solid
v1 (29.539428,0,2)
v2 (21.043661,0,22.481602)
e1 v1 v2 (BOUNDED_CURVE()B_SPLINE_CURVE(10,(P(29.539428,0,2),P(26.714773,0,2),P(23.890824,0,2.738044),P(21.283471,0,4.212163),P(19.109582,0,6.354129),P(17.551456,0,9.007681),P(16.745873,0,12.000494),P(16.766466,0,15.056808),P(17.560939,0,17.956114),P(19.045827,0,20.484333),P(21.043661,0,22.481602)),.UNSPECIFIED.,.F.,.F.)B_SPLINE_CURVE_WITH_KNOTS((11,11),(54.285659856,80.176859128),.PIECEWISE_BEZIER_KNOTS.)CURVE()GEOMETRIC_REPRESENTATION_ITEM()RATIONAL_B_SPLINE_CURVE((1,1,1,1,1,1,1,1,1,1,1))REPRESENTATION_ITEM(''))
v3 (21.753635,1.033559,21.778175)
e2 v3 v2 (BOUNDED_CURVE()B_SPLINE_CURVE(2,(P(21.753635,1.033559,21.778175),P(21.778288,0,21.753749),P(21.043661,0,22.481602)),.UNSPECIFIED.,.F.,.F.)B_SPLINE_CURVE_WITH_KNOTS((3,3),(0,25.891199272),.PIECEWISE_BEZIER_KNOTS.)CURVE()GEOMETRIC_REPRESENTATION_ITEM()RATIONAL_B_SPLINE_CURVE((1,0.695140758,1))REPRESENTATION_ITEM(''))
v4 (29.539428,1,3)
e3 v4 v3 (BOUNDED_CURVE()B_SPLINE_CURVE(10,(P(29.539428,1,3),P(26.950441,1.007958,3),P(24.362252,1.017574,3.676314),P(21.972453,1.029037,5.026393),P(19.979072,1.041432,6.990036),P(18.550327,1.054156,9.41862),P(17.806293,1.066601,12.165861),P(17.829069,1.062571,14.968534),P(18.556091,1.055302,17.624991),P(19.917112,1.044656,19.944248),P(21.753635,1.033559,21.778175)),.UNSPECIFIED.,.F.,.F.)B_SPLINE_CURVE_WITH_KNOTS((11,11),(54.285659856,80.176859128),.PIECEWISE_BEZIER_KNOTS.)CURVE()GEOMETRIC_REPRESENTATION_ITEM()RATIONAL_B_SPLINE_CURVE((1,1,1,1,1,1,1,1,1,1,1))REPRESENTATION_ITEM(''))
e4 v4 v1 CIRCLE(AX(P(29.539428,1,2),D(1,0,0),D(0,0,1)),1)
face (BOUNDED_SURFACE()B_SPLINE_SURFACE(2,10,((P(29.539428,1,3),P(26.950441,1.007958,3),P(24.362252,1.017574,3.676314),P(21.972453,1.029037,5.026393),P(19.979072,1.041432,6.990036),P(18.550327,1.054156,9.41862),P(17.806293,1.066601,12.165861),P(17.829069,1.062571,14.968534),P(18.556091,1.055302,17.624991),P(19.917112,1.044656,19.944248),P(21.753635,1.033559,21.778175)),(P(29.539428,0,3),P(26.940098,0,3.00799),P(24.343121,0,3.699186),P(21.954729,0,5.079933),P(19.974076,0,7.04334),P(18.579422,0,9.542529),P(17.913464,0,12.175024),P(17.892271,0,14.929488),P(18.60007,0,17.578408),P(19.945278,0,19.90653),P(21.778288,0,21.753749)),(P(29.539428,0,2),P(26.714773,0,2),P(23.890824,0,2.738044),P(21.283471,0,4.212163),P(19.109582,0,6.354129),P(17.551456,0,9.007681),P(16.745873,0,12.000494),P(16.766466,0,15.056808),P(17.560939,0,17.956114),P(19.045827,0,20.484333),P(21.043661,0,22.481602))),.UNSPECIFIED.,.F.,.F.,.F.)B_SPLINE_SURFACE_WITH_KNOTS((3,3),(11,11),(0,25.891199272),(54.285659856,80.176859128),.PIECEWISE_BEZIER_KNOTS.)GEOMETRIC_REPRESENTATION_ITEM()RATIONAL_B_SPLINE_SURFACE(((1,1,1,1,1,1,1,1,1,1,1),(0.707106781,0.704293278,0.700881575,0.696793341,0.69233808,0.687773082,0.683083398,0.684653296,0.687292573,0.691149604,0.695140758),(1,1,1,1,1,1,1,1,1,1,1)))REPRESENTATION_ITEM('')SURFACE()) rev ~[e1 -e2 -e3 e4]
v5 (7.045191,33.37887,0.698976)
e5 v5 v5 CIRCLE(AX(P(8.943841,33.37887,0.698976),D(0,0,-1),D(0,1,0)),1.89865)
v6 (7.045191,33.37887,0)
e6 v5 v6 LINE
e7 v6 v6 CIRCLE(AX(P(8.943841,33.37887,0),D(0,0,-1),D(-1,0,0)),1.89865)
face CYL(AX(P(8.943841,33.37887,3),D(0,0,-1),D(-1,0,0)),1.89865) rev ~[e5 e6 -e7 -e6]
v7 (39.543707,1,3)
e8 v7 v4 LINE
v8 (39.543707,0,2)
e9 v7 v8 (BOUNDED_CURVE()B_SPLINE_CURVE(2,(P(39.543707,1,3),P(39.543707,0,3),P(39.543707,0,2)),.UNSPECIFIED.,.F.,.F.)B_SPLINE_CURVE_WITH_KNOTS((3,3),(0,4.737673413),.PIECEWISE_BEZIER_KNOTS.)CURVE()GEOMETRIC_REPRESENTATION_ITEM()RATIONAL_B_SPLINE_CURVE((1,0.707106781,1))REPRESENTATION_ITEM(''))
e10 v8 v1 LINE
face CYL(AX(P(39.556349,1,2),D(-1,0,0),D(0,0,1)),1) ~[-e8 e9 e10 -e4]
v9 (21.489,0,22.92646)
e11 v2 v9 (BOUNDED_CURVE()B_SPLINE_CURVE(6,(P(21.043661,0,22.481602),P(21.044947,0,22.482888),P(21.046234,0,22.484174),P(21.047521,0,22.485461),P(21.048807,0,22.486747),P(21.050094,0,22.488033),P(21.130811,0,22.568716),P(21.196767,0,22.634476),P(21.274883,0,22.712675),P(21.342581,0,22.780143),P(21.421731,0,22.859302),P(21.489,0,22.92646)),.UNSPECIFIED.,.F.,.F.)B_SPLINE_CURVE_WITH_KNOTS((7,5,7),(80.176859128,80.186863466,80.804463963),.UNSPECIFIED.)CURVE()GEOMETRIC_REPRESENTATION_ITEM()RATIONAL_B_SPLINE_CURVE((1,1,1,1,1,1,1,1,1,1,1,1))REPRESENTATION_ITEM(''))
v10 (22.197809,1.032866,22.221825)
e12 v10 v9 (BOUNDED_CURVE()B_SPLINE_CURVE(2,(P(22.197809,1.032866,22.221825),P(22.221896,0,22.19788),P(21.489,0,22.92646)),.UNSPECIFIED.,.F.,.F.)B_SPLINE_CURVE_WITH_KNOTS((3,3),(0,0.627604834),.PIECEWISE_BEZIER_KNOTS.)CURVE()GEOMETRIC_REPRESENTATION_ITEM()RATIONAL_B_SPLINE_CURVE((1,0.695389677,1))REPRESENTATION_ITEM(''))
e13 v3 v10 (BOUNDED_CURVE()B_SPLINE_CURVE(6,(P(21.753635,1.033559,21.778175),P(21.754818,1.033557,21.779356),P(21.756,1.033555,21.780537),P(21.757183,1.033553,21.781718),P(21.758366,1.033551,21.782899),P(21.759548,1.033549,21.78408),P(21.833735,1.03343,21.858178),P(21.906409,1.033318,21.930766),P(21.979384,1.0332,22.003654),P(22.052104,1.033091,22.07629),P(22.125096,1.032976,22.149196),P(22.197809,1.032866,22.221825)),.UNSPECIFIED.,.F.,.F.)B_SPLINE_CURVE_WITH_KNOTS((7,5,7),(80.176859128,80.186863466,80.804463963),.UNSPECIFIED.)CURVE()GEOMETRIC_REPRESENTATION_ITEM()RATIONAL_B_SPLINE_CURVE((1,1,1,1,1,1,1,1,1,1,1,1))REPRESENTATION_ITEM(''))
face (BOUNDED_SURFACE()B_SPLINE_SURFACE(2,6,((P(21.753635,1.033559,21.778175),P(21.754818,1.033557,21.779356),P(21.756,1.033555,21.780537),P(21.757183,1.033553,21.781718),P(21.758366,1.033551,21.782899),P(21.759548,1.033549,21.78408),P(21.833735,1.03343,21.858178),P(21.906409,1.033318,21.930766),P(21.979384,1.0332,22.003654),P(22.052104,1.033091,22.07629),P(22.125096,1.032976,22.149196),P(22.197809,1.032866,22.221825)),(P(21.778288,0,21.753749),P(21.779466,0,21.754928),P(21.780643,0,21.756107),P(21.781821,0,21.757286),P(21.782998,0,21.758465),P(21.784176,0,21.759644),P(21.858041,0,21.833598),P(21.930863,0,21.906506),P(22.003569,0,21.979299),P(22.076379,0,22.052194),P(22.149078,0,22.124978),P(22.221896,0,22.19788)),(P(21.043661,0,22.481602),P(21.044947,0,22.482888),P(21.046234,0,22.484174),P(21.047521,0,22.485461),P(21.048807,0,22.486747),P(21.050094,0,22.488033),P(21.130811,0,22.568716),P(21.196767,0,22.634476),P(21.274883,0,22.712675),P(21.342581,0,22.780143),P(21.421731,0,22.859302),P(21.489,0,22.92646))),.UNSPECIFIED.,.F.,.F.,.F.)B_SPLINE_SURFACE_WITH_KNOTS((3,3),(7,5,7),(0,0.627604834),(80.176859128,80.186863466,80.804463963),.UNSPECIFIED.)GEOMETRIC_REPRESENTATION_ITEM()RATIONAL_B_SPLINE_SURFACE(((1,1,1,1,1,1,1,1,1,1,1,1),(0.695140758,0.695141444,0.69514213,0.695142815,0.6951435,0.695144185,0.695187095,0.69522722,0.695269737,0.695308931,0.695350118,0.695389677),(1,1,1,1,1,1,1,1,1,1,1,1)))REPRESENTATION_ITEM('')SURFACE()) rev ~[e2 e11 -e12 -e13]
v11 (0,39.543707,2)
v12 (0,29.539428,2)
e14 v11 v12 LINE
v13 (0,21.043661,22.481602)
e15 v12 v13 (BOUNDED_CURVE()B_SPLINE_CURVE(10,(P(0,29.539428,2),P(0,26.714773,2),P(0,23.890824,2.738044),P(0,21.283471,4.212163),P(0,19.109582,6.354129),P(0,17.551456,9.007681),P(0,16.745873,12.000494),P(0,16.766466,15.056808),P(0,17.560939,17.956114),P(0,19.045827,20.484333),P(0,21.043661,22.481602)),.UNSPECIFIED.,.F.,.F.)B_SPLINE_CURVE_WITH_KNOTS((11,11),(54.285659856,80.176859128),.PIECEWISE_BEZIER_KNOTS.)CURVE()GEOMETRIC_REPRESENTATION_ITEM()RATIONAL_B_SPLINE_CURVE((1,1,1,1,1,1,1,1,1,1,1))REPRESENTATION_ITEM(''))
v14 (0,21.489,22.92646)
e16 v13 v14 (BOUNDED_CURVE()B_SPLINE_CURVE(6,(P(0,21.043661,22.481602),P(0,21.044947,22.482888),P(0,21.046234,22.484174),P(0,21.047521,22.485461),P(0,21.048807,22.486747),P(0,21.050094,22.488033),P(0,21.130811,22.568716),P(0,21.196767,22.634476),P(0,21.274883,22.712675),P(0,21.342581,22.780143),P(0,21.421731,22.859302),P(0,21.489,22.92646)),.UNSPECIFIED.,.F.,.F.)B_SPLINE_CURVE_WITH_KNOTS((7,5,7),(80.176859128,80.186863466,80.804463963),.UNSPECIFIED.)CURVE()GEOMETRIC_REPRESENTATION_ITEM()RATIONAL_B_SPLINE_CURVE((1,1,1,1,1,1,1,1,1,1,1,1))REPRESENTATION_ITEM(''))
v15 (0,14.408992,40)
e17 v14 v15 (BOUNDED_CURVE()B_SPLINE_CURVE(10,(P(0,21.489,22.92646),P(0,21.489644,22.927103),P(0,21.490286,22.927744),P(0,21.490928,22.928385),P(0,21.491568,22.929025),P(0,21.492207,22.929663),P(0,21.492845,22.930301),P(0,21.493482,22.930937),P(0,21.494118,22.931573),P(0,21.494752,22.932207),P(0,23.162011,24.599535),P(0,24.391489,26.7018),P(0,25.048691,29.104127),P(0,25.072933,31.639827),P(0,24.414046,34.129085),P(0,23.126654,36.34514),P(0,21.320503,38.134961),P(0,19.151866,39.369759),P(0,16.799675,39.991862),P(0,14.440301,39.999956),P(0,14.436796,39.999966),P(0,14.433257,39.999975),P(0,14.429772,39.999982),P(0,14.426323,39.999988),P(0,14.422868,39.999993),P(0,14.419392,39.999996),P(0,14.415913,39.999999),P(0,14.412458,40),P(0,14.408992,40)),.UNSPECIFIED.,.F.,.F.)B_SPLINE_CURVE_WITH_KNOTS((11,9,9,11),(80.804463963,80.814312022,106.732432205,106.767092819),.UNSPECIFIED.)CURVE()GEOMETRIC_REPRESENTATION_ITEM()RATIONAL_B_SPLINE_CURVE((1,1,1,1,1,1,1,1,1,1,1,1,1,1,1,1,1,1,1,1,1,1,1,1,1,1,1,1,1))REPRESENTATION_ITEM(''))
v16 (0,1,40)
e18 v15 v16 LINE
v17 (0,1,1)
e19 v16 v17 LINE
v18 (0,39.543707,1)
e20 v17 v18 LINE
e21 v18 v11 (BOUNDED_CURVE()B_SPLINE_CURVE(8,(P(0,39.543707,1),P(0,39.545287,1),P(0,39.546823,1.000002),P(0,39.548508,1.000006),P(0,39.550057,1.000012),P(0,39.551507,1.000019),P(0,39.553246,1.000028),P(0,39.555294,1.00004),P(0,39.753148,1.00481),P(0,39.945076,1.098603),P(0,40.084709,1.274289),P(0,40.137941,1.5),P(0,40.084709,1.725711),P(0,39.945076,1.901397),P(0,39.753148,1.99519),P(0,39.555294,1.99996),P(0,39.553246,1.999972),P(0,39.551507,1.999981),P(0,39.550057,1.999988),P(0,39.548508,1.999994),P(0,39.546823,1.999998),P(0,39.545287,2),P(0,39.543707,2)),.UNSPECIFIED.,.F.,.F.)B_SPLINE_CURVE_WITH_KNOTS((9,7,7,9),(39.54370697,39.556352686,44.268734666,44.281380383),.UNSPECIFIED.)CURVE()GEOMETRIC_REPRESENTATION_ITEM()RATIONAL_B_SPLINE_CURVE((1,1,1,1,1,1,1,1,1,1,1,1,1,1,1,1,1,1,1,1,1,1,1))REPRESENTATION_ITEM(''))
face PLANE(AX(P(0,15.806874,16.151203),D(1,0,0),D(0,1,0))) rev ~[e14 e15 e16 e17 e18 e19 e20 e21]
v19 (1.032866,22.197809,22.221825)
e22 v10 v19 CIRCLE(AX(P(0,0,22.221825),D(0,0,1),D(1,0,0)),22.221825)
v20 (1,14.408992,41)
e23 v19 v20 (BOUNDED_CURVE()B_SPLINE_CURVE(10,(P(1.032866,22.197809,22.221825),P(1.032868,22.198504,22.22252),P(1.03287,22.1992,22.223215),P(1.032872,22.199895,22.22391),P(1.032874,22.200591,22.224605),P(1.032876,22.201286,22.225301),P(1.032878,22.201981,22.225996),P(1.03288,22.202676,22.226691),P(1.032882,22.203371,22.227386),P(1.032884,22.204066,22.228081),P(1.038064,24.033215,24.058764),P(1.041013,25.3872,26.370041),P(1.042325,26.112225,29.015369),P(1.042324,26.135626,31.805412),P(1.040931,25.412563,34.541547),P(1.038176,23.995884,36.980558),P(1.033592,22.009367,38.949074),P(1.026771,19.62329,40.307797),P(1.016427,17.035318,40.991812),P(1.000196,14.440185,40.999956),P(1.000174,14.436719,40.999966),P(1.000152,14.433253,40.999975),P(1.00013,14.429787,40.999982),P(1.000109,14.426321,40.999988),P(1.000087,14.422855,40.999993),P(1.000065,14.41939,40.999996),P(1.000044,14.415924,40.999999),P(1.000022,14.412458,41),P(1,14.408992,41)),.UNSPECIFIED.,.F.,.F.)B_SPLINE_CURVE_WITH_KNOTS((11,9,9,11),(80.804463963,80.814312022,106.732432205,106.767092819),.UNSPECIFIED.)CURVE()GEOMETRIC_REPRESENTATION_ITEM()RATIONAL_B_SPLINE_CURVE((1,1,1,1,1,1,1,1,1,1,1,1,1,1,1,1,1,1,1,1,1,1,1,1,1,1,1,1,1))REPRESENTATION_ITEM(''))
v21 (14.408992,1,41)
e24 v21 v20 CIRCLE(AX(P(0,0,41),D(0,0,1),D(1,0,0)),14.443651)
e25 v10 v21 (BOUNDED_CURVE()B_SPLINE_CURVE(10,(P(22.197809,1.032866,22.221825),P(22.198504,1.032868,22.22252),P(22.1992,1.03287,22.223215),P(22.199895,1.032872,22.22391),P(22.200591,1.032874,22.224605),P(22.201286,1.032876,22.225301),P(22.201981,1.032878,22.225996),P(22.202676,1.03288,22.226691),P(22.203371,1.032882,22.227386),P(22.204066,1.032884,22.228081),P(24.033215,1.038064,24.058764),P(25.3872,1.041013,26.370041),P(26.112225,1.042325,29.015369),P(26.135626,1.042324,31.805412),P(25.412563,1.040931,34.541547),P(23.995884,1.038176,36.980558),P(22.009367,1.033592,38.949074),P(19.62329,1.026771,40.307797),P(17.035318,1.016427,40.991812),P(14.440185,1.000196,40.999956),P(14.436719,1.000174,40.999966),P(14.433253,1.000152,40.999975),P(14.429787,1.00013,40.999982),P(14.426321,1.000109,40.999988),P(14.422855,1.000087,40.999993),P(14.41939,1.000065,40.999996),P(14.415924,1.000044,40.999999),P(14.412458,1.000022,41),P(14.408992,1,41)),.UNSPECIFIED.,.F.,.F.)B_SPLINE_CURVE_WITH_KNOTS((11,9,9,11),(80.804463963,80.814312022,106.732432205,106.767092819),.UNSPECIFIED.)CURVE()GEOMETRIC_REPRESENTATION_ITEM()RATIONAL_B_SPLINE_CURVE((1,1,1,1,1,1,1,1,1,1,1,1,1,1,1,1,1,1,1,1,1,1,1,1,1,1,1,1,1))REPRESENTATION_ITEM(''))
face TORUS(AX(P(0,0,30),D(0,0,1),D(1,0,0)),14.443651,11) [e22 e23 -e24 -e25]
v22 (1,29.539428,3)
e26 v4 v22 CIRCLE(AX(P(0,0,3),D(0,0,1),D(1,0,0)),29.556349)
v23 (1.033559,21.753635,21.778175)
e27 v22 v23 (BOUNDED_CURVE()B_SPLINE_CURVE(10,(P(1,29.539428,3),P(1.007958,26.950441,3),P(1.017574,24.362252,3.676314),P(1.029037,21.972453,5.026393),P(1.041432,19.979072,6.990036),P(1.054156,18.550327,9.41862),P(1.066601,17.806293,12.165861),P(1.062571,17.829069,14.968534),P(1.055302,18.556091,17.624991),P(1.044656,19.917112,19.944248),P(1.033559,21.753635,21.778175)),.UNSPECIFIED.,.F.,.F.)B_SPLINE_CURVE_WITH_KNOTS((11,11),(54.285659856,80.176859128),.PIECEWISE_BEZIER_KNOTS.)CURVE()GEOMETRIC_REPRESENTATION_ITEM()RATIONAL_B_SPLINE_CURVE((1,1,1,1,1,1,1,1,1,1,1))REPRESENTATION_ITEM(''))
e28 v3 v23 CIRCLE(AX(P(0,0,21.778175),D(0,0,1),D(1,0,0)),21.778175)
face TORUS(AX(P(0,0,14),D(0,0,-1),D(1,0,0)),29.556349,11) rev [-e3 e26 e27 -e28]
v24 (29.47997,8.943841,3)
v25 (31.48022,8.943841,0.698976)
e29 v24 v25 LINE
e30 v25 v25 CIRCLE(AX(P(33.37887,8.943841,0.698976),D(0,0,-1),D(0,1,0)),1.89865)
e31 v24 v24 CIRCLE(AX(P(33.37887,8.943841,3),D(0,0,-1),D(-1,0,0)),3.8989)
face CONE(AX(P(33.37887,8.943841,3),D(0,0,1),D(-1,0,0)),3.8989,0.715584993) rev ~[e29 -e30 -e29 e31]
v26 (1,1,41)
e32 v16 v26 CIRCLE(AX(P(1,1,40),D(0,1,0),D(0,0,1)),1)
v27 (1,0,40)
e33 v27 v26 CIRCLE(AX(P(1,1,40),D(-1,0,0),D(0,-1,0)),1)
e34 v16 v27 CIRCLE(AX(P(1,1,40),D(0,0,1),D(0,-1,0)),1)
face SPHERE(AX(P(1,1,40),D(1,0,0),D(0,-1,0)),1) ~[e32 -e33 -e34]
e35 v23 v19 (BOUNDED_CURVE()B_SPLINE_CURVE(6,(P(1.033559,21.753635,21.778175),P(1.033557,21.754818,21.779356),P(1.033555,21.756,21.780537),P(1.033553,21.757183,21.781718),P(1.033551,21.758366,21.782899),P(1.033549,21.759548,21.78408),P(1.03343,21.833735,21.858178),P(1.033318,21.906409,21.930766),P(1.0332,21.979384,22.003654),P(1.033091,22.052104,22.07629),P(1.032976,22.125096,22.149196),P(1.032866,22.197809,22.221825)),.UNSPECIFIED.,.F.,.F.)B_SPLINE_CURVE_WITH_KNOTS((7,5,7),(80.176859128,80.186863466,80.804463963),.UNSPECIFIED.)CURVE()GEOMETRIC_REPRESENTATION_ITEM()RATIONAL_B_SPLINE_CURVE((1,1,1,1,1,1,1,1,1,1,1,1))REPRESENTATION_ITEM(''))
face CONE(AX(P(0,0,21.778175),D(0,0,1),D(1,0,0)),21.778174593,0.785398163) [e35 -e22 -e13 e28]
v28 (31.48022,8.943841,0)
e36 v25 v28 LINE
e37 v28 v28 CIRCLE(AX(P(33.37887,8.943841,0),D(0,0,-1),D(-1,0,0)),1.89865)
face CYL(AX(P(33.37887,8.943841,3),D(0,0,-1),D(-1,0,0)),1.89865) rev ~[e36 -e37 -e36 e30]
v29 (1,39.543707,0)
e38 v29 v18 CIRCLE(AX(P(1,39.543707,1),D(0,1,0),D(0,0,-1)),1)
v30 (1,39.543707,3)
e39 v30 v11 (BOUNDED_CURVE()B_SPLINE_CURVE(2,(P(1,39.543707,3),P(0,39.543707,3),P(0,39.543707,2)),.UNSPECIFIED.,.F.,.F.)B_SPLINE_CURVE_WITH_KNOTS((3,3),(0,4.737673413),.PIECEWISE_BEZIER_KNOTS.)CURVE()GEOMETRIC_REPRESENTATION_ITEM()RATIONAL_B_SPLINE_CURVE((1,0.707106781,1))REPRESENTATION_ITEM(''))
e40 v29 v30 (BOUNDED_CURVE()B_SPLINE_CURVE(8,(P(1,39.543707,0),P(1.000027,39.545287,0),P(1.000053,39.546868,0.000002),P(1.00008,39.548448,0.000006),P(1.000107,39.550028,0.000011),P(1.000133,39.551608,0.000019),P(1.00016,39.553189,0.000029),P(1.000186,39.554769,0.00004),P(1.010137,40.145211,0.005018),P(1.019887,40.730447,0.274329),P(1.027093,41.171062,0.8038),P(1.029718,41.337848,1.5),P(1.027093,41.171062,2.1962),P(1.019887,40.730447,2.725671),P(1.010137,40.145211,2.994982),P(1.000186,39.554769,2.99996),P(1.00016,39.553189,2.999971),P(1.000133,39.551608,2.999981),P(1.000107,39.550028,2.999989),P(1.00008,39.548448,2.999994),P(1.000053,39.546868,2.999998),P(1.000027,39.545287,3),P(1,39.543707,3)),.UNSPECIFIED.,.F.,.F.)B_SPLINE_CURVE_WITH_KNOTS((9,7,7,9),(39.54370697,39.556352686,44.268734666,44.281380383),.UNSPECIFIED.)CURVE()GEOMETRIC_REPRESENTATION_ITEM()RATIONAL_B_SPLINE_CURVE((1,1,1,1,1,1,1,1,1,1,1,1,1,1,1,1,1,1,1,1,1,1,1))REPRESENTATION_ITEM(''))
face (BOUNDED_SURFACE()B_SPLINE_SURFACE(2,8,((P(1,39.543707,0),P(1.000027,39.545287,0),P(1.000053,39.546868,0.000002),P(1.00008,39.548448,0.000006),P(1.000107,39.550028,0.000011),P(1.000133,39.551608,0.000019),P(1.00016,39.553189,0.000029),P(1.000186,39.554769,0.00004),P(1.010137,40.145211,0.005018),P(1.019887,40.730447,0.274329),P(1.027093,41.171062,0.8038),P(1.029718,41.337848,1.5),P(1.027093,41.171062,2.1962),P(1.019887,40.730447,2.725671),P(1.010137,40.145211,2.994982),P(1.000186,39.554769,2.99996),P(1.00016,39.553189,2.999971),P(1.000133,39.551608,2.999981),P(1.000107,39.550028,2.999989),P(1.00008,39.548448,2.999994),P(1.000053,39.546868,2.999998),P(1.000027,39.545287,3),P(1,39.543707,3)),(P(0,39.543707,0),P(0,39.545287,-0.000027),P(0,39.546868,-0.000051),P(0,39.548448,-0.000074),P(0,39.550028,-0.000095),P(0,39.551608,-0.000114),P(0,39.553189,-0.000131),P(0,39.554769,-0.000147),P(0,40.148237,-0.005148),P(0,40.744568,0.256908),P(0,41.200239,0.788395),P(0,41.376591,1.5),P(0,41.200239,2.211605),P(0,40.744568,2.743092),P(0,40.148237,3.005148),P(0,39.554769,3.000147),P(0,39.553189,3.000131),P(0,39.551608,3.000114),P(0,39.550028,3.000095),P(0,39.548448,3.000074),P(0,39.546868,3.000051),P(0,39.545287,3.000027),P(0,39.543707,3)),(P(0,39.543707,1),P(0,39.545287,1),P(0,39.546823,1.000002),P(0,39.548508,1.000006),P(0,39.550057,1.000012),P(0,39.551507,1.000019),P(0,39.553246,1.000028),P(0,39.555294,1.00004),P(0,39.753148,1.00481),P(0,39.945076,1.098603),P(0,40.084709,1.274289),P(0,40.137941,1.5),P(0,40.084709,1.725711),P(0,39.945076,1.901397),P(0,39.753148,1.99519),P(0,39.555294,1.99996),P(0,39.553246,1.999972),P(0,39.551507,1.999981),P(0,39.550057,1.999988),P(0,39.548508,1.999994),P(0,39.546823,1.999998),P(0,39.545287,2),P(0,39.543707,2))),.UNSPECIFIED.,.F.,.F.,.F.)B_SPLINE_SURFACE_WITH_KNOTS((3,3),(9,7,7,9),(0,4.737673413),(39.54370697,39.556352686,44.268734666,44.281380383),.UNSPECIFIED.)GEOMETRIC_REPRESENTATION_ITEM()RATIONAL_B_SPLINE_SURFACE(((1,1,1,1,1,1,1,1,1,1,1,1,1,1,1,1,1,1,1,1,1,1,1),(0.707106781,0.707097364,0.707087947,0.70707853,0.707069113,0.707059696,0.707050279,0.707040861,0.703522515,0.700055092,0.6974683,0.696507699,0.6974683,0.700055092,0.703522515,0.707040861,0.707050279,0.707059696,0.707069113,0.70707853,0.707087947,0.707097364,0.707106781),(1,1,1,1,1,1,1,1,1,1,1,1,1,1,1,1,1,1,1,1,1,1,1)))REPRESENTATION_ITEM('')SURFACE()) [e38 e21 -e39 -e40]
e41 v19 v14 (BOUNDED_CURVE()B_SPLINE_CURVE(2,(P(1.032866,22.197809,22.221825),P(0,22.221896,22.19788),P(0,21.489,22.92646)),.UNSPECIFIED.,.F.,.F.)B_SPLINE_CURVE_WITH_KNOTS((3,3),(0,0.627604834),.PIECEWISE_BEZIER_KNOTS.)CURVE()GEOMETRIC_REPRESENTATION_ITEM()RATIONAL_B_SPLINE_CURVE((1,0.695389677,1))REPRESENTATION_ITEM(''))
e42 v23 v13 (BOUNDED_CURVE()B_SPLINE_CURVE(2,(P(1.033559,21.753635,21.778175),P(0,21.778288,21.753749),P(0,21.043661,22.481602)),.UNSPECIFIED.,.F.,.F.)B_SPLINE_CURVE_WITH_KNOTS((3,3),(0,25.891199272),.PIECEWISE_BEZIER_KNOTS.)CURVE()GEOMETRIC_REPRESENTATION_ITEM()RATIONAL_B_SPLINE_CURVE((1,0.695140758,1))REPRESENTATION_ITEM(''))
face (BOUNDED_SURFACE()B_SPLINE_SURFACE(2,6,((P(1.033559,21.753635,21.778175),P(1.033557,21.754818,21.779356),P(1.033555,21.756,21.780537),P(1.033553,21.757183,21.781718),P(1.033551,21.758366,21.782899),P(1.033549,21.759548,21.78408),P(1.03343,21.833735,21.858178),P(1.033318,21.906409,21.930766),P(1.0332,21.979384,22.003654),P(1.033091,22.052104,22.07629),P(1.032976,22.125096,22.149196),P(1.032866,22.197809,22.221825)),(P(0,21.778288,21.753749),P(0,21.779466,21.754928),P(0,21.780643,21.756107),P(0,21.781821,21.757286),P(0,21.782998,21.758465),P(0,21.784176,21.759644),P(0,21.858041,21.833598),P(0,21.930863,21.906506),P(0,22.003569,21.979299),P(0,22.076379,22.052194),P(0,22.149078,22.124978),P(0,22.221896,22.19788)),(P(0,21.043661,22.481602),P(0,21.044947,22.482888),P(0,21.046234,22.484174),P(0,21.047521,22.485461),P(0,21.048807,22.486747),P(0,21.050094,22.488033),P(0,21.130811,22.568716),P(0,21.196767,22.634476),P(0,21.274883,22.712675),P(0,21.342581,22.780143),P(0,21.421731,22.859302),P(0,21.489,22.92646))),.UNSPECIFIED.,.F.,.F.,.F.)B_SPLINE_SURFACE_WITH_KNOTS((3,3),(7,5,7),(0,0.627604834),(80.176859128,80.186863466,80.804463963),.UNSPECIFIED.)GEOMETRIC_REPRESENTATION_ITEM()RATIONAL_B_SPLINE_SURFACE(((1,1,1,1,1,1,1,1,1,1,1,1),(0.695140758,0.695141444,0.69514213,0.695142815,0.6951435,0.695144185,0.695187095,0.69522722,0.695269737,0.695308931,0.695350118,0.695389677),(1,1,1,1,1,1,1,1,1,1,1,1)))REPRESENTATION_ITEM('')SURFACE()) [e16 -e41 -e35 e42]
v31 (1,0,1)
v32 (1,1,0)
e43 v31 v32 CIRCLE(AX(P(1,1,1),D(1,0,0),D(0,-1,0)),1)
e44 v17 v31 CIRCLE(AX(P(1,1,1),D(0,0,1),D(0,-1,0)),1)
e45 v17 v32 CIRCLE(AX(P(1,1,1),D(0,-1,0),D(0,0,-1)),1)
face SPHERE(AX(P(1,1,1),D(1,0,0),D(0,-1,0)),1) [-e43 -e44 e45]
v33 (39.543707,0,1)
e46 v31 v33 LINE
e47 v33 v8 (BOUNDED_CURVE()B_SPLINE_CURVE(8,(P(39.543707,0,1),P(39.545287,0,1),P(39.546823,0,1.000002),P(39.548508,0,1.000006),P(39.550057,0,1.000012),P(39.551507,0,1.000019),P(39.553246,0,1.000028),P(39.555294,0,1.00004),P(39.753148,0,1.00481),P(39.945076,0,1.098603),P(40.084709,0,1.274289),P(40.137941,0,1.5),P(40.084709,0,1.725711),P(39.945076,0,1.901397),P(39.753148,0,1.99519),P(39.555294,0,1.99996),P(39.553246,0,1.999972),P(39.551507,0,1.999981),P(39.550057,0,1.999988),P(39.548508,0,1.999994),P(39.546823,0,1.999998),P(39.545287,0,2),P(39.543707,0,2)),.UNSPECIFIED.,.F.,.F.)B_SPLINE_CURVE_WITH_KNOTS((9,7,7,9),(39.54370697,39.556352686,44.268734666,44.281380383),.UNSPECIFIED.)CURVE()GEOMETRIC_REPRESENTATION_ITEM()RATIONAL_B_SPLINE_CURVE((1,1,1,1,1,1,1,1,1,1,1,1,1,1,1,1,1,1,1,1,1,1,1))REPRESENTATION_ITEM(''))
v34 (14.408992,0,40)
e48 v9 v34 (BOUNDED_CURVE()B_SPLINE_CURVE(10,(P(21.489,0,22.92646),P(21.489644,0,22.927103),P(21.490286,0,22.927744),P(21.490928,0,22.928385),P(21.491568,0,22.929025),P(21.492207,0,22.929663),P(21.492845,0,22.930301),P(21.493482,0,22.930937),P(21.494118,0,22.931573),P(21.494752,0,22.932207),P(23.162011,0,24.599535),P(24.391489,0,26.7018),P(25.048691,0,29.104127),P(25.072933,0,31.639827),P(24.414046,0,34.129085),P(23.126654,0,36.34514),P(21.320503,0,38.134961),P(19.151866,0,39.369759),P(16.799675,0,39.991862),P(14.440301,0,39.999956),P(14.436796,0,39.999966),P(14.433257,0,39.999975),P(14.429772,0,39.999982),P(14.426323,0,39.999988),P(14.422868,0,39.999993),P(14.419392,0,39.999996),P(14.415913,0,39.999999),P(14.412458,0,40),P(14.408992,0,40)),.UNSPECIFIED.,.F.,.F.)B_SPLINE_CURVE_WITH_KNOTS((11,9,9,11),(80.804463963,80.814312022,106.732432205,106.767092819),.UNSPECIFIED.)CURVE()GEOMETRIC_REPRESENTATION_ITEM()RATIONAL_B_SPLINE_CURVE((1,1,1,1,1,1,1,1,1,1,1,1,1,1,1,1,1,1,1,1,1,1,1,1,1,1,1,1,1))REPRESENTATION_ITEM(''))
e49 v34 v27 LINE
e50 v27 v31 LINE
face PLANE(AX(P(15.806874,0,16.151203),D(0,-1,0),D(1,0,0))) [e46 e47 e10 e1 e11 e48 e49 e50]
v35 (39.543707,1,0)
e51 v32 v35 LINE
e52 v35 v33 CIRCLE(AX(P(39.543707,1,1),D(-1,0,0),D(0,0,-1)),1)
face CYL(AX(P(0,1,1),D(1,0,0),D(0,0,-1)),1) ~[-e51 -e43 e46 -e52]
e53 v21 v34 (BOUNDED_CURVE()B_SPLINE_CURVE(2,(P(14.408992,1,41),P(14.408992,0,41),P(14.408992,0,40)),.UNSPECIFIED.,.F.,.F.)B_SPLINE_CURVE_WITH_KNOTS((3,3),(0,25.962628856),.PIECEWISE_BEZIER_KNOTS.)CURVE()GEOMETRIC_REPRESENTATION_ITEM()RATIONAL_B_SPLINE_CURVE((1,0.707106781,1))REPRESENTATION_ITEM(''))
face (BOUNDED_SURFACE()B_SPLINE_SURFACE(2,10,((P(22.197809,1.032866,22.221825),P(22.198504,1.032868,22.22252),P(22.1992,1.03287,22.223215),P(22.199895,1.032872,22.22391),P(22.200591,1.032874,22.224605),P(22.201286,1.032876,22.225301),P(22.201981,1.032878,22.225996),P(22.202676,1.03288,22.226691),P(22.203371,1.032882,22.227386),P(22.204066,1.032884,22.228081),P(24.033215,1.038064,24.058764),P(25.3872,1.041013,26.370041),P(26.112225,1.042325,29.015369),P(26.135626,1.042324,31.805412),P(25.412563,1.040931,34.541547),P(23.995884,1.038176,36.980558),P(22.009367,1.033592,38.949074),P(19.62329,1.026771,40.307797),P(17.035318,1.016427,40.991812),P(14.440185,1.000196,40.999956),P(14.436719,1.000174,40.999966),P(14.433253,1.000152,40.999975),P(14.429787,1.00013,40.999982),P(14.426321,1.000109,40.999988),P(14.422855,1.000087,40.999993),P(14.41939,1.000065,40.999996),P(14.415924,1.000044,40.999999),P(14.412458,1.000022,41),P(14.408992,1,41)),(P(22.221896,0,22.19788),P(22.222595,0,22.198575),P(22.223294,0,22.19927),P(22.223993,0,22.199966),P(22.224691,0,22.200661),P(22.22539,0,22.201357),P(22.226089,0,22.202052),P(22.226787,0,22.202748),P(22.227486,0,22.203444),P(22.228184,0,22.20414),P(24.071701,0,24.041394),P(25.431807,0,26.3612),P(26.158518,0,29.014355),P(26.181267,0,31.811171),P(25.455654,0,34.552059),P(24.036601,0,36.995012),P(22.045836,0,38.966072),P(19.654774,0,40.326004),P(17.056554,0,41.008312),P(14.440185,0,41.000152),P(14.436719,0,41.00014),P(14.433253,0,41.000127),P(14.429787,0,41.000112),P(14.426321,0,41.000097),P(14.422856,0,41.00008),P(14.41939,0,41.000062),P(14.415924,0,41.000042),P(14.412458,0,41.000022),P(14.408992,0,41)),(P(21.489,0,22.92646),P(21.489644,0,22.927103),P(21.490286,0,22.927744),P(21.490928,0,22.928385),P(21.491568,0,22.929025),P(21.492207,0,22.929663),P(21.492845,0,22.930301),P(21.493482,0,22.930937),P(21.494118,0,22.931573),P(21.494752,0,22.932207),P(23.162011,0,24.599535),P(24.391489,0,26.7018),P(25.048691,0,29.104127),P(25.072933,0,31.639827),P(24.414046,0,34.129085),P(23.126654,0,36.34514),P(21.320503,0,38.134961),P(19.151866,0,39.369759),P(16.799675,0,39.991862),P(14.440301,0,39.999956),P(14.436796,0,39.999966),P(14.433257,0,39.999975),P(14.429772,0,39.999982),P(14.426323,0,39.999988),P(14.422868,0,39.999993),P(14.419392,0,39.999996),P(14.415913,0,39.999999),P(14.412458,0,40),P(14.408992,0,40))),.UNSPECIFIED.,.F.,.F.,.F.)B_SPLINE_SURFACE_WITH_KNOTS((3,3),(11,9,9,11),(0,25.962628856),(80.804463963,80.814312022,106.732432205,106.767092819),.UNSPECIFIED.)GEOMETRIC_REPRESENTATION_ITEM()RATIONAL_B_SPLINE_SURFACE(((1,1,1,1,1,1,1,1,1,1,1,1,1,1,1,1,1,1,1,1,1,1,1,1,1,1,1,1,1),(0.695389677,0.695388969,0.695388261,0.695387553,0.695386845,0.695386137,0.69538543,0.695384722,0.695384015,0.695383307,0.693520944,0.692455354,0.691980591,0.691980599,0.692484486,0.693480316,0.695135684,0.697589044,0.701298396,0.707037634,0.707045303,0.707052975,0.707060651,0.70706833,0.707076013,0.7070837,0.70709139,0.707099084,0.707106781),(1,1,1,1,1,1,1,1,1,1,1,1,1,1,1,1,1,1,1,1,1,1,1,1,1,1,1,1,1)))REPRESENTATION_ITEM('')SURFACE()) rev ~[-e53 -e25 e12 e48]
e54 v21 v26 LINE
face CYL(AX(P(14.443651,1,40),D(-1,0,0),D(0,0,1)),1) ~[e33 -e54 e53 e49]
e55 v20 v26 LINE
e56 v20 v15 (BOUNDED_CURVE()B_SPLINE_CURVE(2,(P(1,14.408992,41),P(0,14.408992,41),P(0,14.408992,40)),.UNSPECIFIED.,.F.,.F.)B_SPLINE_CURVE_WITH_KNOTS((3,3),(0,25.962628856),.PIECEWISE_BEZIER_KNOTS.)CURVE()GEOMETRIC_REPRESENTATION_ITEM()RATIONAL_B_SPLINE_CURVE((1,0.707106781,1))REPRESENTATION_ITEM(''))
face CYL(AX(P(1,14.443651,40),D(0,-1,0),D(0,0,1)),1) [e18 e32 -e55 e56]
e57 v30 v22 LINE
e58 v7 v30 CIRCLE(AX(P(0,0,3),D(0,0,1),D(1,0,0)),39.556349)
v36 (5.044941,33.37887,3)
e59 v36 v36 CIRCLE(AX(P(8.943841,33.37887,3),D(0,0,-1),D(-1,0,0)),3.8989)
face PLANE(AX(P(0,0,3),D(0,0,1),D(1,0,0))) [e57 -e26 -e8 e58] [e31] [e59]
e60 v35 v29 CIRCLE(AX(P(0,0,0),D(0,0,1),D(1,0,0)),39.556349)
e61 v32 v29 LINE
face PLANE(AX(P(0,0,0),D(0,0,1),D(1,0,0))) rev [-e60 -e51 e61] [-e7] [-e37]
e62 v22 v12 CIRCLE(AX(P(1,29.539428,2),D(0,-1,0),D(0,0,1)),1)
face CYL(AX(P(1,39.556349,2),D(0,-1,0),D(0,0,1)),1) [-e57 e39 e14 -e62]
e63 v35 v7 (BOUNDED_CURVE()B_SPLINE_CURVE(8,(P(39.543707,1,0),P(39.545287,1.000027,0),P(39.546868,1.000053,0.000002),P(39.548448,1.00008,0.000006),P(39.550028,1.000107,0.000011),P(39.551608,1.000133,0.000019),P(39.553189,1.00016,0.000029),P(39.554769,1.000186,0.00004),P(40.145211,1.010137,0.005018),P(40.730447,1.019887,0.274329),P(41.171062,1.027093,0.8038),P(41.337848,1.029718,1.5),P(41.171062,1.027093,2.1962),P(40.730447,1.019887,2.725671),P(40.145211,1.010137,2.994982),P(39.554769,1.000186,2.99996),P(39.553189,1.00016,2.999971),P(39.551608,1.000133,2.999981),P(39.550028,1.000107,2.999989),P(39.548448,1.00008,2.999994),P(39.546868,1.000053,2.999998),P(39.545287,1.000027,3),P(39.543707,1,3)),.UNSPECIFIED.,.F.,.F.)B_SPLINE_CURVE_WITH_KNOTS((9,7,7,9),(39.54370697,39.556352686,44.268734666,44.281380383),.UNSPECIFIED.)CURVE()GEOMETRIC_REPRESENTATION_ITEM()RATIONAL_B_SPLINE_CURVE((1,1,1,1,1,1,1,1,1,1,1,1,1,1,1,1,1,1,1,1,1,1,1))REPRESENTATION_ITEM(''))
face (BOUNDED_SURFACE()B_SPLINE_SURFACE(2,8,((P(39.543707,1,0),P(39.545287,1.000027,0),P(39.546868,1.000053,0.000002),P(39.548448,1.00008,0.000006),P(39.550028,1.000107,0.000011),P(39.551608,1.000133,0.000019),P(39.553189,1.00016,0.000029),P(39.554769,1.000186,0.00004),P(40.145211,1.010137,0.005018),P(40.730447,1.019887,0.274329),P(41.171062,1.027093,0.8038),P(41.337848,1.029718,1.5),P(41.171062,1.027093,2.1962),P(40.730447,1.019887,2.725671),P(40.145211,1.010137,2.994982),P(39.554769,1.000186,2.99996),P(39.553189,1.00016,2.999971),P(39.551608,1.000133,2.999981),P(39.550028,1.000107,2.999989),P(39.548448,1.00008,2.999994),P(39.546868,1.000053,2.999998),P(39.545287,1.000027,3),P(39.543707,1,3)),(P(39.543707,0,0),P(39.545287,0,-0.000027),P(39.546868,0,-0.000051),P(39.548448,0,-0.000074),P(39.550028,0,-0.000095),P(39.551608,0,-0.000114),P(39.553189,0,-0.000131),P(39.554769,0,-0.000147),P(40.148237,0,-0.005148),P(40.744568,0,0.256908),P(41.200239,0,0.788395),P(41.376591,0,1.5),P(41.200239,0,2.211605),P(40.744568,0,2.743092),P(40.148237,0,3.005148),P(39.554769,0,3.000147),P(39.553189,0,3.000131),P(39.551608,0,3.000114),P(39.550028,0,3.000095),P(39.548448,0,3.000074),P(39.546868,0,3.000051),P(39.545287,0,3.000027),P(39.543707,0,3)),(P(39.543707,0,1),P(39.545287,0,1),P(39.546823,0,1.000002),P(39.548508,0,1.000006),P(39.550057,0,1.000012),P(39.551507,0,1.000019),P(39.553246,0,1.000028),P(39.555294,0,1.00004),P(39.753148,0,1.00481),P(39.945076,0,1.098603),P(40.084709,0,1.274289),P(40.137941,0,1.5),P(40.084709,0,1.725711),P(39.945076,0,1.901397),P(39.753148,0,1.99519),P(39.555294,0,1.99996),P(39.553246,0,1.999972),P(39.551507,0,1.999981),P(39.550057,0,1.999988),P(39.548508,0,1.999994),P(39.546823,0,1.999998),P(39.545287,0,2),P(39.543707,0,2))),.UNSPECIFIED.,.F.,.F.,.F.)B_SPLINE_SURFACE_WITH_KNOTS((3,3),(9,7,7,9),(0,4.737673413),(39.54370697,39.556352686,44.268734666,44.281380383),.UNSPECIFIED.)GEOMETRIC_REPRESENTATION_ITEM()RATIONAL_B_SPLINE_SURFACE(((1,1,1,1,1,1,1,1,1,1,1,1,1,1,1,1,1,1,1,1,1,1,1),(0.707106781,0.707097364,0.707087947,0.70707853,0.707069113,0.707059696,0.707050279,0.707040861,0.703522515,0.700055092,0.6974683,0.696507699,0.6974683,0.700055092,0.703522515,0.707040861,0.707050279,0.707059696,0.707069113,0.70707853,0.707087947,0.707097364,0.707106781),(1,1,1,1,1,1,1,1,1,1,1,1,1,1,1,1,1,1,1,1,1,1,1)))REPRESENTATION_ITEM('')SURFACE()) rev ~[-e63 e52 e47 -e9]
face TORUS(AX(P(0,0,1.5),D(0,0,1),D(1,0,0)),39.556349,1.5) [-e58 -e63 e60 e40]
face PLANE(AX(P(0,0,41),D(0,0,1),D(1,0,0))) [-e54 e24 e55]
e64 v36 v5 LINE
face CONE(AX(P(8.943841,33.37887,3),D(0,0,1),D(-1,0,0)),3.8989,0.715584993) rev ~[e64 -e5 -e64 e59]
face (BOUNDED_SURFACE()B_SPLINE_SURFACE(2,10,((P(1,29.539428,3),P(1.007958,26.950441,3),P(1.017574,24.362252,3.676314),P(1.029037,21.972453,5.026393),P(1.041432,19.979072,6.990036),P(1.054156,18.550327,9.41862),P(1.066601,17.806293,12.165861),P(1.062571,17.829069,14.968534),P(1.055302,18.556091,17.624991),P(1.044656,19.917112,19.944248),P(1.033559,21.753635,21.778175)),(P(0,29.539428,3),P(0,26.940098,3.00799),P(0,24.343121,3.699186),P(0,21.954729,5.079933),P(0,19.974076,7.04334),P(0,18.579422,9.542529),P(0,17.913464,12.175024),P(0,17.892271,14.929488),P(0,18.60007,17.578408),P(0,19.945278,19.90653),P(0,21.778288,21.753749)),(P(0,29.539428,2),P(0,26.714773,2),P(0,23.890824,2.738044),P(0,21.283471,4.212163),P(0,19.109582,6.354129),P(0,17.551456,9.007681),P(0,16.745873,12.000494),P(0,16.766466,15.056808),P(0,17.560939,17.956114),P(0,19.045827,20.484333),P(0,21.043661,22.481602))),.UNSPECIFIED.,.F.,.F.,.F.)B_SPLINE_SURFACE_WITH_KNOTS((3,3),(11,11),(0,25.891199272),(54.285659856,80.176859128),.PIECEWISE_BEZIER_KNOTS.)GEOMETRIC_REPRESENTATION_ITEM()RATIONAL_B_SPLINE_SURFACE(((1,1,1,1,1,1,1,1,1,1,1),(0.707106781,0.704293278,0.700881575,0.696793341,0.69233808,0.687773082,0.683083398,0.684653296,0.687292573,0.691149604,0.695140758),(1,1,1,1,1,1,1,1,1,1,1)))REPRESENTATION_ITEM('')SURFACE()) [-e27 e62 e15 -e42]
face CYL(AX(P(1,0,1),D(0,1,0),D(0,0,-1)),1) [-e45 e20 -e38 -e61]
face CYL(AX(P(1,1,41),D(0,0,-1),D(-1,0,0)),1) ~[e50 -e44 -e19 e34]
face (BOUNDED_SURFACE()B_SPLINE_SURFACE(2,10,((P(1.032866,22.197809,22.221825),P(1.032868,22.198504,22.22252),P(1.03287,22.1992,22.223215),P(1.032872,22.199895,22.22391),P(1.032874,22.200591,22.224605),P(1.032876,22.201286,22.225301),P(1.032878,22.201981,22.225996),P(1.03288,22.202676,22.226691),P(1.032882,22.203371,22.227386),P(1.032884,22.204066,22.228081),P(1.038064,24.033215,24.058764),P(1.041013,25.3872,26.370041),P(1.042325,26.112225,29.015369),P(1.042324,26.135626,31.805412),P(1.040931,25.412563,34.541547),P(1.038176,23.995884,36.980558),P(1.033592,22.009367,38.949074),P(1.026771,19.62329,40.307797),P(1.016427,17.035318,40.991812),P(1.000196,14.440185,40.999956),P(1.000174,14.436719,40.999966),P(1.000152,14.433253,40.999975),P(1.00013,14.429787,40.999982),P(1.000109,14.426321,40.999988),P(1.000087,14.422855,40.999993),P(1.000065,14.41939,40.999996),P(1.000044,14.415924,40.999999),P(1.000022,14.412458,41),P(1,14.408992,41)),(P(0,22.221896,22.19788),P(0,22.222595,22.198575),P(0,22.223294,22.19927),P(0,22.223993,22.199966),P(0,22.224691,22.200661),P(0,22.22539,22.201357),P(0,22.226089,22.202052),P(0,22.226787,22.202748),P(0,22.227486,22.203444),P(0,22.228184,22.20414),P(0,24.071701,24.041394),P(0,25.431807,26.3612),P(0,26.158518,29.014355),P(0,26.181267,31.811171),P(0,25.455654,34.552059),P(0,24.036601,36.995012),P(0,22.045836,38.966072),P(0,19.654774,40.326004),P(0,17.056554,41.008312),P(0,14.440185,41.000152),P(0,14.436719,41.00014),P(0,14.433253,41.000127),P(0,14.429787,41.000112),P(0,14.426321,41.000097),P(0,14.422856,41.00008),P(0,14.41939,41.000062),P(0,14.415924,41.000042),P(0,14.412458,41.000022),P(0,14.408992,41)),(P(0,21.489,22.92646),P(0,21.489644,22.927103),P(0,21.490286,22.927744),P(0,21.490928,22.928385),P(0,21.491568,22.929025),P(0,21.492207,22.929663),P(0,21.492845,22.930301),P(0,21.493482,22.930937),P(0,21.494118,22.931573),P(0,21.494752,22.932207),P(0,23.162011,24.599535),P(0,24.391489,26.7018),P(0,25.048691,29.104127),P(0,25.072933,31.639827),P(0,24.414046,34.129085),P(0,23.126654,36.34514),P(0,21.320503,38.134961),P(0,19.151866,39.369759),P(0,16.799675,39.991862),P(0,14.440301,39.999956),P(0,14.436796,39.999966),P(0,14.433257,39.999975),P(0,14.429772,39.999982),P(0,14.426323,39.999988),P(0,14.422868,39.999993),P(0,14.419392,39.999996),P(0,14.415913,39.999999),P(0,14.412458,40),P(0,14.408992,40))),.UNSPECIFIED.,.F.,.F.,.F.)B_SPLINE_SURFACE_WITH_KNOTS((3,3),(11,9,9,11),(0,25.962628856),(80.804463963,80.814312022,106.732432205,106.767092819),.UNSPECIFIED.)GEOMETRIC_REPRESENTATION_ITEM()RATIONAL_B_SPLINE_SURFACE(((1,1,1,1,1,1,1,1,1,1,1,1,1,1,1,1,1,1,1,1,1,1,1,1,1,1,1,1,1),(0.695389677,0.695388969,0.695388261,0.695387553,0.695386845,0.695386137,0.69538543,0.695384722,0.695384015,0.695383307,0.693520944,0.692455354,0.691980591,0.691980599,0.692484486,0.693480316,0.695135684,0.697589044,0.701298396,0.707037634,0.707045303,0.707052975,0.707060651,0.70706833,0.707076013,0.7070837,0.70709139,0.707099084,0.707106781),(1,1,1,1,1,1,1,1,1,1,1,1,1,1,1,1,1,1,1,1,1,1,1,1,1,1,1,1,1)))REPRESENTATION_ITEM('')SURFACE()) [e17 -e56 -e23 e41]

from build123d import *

# Parameters (mm, degrees)
F1_ANGLE       = 90
F3_D           = 3.7973
F3_CSINK_D     = 7.7978
F3_CSINK_ANGLE = 82
F4_R           = 1


with BuildPart() as f1:
    # F0 (on Front) → F1 (revolve)
    with BuildSketch(Plane.XZ):
        with BuildLine():
            ThreePointArc((29.5563491861, 3), (19.3936743285, 9.790482244), (21.7781745931, 21.7781745931))
            Line((21.7781745931, 21.7781745931), (22.2218254069, 22.2218254069))
            ThreePointArc((22.2218254069, 22.2218254069), (24.6063256715, 34.209517756), (14.4436508139, 41))
            Line((14.4436508139, 41), (0, 41))
            Line((0, 41), (0, 0))
            Line((0, 0), (39.5563491861, 0))
            ThreePointArc((39.5563491861, 0), (41.0563491861, 1.5), (39.5563491861, 3))
            Line((39.5563491861, 3), (29.5563491861, 3))
        make_face()
    revolve(axis=Axis((0, 0, 20.5), (0, 0, 1)), revolution_arc=F1_ANGLE)

    # F3 (through all)
    with Locations(Plane.XY.offset(3)):
        with Locations((8.9438412986, 33.3788701411), (33.3788701411, 8.9438412986)):
            CounterSinkHole(F3_D / 2, F3_CSINK_D / 2, counter_sink_angle=F3_CSINK_ANGLE)

    # F4
    f4_edges = [f1.edges().sort_by_distance(p)[0] for p in [
        (19.393674, 0, 9.790482),
        (22, 0, 22),
        (24.606326, 0, 34.209518),
        (7.221825, 0, 41),
        (0, 0, 20.5),
        (19.778175, 0, 0),
        (41.056349, 0, 1.5),
        (34.556349, 0, 3),
        (0, 19.393674, 9.790482),
        (0, 22, 22),
        (0, 24.606326, 34.209518),
        (0, 7.221825, 41),
        (0, 19.778175, 0),
        (0, 41.056349, 1.5),
        (0, 34.556349, 3),
    ]]
    fillet(f4_edges, radius=F4_R)


solid = f1.part
